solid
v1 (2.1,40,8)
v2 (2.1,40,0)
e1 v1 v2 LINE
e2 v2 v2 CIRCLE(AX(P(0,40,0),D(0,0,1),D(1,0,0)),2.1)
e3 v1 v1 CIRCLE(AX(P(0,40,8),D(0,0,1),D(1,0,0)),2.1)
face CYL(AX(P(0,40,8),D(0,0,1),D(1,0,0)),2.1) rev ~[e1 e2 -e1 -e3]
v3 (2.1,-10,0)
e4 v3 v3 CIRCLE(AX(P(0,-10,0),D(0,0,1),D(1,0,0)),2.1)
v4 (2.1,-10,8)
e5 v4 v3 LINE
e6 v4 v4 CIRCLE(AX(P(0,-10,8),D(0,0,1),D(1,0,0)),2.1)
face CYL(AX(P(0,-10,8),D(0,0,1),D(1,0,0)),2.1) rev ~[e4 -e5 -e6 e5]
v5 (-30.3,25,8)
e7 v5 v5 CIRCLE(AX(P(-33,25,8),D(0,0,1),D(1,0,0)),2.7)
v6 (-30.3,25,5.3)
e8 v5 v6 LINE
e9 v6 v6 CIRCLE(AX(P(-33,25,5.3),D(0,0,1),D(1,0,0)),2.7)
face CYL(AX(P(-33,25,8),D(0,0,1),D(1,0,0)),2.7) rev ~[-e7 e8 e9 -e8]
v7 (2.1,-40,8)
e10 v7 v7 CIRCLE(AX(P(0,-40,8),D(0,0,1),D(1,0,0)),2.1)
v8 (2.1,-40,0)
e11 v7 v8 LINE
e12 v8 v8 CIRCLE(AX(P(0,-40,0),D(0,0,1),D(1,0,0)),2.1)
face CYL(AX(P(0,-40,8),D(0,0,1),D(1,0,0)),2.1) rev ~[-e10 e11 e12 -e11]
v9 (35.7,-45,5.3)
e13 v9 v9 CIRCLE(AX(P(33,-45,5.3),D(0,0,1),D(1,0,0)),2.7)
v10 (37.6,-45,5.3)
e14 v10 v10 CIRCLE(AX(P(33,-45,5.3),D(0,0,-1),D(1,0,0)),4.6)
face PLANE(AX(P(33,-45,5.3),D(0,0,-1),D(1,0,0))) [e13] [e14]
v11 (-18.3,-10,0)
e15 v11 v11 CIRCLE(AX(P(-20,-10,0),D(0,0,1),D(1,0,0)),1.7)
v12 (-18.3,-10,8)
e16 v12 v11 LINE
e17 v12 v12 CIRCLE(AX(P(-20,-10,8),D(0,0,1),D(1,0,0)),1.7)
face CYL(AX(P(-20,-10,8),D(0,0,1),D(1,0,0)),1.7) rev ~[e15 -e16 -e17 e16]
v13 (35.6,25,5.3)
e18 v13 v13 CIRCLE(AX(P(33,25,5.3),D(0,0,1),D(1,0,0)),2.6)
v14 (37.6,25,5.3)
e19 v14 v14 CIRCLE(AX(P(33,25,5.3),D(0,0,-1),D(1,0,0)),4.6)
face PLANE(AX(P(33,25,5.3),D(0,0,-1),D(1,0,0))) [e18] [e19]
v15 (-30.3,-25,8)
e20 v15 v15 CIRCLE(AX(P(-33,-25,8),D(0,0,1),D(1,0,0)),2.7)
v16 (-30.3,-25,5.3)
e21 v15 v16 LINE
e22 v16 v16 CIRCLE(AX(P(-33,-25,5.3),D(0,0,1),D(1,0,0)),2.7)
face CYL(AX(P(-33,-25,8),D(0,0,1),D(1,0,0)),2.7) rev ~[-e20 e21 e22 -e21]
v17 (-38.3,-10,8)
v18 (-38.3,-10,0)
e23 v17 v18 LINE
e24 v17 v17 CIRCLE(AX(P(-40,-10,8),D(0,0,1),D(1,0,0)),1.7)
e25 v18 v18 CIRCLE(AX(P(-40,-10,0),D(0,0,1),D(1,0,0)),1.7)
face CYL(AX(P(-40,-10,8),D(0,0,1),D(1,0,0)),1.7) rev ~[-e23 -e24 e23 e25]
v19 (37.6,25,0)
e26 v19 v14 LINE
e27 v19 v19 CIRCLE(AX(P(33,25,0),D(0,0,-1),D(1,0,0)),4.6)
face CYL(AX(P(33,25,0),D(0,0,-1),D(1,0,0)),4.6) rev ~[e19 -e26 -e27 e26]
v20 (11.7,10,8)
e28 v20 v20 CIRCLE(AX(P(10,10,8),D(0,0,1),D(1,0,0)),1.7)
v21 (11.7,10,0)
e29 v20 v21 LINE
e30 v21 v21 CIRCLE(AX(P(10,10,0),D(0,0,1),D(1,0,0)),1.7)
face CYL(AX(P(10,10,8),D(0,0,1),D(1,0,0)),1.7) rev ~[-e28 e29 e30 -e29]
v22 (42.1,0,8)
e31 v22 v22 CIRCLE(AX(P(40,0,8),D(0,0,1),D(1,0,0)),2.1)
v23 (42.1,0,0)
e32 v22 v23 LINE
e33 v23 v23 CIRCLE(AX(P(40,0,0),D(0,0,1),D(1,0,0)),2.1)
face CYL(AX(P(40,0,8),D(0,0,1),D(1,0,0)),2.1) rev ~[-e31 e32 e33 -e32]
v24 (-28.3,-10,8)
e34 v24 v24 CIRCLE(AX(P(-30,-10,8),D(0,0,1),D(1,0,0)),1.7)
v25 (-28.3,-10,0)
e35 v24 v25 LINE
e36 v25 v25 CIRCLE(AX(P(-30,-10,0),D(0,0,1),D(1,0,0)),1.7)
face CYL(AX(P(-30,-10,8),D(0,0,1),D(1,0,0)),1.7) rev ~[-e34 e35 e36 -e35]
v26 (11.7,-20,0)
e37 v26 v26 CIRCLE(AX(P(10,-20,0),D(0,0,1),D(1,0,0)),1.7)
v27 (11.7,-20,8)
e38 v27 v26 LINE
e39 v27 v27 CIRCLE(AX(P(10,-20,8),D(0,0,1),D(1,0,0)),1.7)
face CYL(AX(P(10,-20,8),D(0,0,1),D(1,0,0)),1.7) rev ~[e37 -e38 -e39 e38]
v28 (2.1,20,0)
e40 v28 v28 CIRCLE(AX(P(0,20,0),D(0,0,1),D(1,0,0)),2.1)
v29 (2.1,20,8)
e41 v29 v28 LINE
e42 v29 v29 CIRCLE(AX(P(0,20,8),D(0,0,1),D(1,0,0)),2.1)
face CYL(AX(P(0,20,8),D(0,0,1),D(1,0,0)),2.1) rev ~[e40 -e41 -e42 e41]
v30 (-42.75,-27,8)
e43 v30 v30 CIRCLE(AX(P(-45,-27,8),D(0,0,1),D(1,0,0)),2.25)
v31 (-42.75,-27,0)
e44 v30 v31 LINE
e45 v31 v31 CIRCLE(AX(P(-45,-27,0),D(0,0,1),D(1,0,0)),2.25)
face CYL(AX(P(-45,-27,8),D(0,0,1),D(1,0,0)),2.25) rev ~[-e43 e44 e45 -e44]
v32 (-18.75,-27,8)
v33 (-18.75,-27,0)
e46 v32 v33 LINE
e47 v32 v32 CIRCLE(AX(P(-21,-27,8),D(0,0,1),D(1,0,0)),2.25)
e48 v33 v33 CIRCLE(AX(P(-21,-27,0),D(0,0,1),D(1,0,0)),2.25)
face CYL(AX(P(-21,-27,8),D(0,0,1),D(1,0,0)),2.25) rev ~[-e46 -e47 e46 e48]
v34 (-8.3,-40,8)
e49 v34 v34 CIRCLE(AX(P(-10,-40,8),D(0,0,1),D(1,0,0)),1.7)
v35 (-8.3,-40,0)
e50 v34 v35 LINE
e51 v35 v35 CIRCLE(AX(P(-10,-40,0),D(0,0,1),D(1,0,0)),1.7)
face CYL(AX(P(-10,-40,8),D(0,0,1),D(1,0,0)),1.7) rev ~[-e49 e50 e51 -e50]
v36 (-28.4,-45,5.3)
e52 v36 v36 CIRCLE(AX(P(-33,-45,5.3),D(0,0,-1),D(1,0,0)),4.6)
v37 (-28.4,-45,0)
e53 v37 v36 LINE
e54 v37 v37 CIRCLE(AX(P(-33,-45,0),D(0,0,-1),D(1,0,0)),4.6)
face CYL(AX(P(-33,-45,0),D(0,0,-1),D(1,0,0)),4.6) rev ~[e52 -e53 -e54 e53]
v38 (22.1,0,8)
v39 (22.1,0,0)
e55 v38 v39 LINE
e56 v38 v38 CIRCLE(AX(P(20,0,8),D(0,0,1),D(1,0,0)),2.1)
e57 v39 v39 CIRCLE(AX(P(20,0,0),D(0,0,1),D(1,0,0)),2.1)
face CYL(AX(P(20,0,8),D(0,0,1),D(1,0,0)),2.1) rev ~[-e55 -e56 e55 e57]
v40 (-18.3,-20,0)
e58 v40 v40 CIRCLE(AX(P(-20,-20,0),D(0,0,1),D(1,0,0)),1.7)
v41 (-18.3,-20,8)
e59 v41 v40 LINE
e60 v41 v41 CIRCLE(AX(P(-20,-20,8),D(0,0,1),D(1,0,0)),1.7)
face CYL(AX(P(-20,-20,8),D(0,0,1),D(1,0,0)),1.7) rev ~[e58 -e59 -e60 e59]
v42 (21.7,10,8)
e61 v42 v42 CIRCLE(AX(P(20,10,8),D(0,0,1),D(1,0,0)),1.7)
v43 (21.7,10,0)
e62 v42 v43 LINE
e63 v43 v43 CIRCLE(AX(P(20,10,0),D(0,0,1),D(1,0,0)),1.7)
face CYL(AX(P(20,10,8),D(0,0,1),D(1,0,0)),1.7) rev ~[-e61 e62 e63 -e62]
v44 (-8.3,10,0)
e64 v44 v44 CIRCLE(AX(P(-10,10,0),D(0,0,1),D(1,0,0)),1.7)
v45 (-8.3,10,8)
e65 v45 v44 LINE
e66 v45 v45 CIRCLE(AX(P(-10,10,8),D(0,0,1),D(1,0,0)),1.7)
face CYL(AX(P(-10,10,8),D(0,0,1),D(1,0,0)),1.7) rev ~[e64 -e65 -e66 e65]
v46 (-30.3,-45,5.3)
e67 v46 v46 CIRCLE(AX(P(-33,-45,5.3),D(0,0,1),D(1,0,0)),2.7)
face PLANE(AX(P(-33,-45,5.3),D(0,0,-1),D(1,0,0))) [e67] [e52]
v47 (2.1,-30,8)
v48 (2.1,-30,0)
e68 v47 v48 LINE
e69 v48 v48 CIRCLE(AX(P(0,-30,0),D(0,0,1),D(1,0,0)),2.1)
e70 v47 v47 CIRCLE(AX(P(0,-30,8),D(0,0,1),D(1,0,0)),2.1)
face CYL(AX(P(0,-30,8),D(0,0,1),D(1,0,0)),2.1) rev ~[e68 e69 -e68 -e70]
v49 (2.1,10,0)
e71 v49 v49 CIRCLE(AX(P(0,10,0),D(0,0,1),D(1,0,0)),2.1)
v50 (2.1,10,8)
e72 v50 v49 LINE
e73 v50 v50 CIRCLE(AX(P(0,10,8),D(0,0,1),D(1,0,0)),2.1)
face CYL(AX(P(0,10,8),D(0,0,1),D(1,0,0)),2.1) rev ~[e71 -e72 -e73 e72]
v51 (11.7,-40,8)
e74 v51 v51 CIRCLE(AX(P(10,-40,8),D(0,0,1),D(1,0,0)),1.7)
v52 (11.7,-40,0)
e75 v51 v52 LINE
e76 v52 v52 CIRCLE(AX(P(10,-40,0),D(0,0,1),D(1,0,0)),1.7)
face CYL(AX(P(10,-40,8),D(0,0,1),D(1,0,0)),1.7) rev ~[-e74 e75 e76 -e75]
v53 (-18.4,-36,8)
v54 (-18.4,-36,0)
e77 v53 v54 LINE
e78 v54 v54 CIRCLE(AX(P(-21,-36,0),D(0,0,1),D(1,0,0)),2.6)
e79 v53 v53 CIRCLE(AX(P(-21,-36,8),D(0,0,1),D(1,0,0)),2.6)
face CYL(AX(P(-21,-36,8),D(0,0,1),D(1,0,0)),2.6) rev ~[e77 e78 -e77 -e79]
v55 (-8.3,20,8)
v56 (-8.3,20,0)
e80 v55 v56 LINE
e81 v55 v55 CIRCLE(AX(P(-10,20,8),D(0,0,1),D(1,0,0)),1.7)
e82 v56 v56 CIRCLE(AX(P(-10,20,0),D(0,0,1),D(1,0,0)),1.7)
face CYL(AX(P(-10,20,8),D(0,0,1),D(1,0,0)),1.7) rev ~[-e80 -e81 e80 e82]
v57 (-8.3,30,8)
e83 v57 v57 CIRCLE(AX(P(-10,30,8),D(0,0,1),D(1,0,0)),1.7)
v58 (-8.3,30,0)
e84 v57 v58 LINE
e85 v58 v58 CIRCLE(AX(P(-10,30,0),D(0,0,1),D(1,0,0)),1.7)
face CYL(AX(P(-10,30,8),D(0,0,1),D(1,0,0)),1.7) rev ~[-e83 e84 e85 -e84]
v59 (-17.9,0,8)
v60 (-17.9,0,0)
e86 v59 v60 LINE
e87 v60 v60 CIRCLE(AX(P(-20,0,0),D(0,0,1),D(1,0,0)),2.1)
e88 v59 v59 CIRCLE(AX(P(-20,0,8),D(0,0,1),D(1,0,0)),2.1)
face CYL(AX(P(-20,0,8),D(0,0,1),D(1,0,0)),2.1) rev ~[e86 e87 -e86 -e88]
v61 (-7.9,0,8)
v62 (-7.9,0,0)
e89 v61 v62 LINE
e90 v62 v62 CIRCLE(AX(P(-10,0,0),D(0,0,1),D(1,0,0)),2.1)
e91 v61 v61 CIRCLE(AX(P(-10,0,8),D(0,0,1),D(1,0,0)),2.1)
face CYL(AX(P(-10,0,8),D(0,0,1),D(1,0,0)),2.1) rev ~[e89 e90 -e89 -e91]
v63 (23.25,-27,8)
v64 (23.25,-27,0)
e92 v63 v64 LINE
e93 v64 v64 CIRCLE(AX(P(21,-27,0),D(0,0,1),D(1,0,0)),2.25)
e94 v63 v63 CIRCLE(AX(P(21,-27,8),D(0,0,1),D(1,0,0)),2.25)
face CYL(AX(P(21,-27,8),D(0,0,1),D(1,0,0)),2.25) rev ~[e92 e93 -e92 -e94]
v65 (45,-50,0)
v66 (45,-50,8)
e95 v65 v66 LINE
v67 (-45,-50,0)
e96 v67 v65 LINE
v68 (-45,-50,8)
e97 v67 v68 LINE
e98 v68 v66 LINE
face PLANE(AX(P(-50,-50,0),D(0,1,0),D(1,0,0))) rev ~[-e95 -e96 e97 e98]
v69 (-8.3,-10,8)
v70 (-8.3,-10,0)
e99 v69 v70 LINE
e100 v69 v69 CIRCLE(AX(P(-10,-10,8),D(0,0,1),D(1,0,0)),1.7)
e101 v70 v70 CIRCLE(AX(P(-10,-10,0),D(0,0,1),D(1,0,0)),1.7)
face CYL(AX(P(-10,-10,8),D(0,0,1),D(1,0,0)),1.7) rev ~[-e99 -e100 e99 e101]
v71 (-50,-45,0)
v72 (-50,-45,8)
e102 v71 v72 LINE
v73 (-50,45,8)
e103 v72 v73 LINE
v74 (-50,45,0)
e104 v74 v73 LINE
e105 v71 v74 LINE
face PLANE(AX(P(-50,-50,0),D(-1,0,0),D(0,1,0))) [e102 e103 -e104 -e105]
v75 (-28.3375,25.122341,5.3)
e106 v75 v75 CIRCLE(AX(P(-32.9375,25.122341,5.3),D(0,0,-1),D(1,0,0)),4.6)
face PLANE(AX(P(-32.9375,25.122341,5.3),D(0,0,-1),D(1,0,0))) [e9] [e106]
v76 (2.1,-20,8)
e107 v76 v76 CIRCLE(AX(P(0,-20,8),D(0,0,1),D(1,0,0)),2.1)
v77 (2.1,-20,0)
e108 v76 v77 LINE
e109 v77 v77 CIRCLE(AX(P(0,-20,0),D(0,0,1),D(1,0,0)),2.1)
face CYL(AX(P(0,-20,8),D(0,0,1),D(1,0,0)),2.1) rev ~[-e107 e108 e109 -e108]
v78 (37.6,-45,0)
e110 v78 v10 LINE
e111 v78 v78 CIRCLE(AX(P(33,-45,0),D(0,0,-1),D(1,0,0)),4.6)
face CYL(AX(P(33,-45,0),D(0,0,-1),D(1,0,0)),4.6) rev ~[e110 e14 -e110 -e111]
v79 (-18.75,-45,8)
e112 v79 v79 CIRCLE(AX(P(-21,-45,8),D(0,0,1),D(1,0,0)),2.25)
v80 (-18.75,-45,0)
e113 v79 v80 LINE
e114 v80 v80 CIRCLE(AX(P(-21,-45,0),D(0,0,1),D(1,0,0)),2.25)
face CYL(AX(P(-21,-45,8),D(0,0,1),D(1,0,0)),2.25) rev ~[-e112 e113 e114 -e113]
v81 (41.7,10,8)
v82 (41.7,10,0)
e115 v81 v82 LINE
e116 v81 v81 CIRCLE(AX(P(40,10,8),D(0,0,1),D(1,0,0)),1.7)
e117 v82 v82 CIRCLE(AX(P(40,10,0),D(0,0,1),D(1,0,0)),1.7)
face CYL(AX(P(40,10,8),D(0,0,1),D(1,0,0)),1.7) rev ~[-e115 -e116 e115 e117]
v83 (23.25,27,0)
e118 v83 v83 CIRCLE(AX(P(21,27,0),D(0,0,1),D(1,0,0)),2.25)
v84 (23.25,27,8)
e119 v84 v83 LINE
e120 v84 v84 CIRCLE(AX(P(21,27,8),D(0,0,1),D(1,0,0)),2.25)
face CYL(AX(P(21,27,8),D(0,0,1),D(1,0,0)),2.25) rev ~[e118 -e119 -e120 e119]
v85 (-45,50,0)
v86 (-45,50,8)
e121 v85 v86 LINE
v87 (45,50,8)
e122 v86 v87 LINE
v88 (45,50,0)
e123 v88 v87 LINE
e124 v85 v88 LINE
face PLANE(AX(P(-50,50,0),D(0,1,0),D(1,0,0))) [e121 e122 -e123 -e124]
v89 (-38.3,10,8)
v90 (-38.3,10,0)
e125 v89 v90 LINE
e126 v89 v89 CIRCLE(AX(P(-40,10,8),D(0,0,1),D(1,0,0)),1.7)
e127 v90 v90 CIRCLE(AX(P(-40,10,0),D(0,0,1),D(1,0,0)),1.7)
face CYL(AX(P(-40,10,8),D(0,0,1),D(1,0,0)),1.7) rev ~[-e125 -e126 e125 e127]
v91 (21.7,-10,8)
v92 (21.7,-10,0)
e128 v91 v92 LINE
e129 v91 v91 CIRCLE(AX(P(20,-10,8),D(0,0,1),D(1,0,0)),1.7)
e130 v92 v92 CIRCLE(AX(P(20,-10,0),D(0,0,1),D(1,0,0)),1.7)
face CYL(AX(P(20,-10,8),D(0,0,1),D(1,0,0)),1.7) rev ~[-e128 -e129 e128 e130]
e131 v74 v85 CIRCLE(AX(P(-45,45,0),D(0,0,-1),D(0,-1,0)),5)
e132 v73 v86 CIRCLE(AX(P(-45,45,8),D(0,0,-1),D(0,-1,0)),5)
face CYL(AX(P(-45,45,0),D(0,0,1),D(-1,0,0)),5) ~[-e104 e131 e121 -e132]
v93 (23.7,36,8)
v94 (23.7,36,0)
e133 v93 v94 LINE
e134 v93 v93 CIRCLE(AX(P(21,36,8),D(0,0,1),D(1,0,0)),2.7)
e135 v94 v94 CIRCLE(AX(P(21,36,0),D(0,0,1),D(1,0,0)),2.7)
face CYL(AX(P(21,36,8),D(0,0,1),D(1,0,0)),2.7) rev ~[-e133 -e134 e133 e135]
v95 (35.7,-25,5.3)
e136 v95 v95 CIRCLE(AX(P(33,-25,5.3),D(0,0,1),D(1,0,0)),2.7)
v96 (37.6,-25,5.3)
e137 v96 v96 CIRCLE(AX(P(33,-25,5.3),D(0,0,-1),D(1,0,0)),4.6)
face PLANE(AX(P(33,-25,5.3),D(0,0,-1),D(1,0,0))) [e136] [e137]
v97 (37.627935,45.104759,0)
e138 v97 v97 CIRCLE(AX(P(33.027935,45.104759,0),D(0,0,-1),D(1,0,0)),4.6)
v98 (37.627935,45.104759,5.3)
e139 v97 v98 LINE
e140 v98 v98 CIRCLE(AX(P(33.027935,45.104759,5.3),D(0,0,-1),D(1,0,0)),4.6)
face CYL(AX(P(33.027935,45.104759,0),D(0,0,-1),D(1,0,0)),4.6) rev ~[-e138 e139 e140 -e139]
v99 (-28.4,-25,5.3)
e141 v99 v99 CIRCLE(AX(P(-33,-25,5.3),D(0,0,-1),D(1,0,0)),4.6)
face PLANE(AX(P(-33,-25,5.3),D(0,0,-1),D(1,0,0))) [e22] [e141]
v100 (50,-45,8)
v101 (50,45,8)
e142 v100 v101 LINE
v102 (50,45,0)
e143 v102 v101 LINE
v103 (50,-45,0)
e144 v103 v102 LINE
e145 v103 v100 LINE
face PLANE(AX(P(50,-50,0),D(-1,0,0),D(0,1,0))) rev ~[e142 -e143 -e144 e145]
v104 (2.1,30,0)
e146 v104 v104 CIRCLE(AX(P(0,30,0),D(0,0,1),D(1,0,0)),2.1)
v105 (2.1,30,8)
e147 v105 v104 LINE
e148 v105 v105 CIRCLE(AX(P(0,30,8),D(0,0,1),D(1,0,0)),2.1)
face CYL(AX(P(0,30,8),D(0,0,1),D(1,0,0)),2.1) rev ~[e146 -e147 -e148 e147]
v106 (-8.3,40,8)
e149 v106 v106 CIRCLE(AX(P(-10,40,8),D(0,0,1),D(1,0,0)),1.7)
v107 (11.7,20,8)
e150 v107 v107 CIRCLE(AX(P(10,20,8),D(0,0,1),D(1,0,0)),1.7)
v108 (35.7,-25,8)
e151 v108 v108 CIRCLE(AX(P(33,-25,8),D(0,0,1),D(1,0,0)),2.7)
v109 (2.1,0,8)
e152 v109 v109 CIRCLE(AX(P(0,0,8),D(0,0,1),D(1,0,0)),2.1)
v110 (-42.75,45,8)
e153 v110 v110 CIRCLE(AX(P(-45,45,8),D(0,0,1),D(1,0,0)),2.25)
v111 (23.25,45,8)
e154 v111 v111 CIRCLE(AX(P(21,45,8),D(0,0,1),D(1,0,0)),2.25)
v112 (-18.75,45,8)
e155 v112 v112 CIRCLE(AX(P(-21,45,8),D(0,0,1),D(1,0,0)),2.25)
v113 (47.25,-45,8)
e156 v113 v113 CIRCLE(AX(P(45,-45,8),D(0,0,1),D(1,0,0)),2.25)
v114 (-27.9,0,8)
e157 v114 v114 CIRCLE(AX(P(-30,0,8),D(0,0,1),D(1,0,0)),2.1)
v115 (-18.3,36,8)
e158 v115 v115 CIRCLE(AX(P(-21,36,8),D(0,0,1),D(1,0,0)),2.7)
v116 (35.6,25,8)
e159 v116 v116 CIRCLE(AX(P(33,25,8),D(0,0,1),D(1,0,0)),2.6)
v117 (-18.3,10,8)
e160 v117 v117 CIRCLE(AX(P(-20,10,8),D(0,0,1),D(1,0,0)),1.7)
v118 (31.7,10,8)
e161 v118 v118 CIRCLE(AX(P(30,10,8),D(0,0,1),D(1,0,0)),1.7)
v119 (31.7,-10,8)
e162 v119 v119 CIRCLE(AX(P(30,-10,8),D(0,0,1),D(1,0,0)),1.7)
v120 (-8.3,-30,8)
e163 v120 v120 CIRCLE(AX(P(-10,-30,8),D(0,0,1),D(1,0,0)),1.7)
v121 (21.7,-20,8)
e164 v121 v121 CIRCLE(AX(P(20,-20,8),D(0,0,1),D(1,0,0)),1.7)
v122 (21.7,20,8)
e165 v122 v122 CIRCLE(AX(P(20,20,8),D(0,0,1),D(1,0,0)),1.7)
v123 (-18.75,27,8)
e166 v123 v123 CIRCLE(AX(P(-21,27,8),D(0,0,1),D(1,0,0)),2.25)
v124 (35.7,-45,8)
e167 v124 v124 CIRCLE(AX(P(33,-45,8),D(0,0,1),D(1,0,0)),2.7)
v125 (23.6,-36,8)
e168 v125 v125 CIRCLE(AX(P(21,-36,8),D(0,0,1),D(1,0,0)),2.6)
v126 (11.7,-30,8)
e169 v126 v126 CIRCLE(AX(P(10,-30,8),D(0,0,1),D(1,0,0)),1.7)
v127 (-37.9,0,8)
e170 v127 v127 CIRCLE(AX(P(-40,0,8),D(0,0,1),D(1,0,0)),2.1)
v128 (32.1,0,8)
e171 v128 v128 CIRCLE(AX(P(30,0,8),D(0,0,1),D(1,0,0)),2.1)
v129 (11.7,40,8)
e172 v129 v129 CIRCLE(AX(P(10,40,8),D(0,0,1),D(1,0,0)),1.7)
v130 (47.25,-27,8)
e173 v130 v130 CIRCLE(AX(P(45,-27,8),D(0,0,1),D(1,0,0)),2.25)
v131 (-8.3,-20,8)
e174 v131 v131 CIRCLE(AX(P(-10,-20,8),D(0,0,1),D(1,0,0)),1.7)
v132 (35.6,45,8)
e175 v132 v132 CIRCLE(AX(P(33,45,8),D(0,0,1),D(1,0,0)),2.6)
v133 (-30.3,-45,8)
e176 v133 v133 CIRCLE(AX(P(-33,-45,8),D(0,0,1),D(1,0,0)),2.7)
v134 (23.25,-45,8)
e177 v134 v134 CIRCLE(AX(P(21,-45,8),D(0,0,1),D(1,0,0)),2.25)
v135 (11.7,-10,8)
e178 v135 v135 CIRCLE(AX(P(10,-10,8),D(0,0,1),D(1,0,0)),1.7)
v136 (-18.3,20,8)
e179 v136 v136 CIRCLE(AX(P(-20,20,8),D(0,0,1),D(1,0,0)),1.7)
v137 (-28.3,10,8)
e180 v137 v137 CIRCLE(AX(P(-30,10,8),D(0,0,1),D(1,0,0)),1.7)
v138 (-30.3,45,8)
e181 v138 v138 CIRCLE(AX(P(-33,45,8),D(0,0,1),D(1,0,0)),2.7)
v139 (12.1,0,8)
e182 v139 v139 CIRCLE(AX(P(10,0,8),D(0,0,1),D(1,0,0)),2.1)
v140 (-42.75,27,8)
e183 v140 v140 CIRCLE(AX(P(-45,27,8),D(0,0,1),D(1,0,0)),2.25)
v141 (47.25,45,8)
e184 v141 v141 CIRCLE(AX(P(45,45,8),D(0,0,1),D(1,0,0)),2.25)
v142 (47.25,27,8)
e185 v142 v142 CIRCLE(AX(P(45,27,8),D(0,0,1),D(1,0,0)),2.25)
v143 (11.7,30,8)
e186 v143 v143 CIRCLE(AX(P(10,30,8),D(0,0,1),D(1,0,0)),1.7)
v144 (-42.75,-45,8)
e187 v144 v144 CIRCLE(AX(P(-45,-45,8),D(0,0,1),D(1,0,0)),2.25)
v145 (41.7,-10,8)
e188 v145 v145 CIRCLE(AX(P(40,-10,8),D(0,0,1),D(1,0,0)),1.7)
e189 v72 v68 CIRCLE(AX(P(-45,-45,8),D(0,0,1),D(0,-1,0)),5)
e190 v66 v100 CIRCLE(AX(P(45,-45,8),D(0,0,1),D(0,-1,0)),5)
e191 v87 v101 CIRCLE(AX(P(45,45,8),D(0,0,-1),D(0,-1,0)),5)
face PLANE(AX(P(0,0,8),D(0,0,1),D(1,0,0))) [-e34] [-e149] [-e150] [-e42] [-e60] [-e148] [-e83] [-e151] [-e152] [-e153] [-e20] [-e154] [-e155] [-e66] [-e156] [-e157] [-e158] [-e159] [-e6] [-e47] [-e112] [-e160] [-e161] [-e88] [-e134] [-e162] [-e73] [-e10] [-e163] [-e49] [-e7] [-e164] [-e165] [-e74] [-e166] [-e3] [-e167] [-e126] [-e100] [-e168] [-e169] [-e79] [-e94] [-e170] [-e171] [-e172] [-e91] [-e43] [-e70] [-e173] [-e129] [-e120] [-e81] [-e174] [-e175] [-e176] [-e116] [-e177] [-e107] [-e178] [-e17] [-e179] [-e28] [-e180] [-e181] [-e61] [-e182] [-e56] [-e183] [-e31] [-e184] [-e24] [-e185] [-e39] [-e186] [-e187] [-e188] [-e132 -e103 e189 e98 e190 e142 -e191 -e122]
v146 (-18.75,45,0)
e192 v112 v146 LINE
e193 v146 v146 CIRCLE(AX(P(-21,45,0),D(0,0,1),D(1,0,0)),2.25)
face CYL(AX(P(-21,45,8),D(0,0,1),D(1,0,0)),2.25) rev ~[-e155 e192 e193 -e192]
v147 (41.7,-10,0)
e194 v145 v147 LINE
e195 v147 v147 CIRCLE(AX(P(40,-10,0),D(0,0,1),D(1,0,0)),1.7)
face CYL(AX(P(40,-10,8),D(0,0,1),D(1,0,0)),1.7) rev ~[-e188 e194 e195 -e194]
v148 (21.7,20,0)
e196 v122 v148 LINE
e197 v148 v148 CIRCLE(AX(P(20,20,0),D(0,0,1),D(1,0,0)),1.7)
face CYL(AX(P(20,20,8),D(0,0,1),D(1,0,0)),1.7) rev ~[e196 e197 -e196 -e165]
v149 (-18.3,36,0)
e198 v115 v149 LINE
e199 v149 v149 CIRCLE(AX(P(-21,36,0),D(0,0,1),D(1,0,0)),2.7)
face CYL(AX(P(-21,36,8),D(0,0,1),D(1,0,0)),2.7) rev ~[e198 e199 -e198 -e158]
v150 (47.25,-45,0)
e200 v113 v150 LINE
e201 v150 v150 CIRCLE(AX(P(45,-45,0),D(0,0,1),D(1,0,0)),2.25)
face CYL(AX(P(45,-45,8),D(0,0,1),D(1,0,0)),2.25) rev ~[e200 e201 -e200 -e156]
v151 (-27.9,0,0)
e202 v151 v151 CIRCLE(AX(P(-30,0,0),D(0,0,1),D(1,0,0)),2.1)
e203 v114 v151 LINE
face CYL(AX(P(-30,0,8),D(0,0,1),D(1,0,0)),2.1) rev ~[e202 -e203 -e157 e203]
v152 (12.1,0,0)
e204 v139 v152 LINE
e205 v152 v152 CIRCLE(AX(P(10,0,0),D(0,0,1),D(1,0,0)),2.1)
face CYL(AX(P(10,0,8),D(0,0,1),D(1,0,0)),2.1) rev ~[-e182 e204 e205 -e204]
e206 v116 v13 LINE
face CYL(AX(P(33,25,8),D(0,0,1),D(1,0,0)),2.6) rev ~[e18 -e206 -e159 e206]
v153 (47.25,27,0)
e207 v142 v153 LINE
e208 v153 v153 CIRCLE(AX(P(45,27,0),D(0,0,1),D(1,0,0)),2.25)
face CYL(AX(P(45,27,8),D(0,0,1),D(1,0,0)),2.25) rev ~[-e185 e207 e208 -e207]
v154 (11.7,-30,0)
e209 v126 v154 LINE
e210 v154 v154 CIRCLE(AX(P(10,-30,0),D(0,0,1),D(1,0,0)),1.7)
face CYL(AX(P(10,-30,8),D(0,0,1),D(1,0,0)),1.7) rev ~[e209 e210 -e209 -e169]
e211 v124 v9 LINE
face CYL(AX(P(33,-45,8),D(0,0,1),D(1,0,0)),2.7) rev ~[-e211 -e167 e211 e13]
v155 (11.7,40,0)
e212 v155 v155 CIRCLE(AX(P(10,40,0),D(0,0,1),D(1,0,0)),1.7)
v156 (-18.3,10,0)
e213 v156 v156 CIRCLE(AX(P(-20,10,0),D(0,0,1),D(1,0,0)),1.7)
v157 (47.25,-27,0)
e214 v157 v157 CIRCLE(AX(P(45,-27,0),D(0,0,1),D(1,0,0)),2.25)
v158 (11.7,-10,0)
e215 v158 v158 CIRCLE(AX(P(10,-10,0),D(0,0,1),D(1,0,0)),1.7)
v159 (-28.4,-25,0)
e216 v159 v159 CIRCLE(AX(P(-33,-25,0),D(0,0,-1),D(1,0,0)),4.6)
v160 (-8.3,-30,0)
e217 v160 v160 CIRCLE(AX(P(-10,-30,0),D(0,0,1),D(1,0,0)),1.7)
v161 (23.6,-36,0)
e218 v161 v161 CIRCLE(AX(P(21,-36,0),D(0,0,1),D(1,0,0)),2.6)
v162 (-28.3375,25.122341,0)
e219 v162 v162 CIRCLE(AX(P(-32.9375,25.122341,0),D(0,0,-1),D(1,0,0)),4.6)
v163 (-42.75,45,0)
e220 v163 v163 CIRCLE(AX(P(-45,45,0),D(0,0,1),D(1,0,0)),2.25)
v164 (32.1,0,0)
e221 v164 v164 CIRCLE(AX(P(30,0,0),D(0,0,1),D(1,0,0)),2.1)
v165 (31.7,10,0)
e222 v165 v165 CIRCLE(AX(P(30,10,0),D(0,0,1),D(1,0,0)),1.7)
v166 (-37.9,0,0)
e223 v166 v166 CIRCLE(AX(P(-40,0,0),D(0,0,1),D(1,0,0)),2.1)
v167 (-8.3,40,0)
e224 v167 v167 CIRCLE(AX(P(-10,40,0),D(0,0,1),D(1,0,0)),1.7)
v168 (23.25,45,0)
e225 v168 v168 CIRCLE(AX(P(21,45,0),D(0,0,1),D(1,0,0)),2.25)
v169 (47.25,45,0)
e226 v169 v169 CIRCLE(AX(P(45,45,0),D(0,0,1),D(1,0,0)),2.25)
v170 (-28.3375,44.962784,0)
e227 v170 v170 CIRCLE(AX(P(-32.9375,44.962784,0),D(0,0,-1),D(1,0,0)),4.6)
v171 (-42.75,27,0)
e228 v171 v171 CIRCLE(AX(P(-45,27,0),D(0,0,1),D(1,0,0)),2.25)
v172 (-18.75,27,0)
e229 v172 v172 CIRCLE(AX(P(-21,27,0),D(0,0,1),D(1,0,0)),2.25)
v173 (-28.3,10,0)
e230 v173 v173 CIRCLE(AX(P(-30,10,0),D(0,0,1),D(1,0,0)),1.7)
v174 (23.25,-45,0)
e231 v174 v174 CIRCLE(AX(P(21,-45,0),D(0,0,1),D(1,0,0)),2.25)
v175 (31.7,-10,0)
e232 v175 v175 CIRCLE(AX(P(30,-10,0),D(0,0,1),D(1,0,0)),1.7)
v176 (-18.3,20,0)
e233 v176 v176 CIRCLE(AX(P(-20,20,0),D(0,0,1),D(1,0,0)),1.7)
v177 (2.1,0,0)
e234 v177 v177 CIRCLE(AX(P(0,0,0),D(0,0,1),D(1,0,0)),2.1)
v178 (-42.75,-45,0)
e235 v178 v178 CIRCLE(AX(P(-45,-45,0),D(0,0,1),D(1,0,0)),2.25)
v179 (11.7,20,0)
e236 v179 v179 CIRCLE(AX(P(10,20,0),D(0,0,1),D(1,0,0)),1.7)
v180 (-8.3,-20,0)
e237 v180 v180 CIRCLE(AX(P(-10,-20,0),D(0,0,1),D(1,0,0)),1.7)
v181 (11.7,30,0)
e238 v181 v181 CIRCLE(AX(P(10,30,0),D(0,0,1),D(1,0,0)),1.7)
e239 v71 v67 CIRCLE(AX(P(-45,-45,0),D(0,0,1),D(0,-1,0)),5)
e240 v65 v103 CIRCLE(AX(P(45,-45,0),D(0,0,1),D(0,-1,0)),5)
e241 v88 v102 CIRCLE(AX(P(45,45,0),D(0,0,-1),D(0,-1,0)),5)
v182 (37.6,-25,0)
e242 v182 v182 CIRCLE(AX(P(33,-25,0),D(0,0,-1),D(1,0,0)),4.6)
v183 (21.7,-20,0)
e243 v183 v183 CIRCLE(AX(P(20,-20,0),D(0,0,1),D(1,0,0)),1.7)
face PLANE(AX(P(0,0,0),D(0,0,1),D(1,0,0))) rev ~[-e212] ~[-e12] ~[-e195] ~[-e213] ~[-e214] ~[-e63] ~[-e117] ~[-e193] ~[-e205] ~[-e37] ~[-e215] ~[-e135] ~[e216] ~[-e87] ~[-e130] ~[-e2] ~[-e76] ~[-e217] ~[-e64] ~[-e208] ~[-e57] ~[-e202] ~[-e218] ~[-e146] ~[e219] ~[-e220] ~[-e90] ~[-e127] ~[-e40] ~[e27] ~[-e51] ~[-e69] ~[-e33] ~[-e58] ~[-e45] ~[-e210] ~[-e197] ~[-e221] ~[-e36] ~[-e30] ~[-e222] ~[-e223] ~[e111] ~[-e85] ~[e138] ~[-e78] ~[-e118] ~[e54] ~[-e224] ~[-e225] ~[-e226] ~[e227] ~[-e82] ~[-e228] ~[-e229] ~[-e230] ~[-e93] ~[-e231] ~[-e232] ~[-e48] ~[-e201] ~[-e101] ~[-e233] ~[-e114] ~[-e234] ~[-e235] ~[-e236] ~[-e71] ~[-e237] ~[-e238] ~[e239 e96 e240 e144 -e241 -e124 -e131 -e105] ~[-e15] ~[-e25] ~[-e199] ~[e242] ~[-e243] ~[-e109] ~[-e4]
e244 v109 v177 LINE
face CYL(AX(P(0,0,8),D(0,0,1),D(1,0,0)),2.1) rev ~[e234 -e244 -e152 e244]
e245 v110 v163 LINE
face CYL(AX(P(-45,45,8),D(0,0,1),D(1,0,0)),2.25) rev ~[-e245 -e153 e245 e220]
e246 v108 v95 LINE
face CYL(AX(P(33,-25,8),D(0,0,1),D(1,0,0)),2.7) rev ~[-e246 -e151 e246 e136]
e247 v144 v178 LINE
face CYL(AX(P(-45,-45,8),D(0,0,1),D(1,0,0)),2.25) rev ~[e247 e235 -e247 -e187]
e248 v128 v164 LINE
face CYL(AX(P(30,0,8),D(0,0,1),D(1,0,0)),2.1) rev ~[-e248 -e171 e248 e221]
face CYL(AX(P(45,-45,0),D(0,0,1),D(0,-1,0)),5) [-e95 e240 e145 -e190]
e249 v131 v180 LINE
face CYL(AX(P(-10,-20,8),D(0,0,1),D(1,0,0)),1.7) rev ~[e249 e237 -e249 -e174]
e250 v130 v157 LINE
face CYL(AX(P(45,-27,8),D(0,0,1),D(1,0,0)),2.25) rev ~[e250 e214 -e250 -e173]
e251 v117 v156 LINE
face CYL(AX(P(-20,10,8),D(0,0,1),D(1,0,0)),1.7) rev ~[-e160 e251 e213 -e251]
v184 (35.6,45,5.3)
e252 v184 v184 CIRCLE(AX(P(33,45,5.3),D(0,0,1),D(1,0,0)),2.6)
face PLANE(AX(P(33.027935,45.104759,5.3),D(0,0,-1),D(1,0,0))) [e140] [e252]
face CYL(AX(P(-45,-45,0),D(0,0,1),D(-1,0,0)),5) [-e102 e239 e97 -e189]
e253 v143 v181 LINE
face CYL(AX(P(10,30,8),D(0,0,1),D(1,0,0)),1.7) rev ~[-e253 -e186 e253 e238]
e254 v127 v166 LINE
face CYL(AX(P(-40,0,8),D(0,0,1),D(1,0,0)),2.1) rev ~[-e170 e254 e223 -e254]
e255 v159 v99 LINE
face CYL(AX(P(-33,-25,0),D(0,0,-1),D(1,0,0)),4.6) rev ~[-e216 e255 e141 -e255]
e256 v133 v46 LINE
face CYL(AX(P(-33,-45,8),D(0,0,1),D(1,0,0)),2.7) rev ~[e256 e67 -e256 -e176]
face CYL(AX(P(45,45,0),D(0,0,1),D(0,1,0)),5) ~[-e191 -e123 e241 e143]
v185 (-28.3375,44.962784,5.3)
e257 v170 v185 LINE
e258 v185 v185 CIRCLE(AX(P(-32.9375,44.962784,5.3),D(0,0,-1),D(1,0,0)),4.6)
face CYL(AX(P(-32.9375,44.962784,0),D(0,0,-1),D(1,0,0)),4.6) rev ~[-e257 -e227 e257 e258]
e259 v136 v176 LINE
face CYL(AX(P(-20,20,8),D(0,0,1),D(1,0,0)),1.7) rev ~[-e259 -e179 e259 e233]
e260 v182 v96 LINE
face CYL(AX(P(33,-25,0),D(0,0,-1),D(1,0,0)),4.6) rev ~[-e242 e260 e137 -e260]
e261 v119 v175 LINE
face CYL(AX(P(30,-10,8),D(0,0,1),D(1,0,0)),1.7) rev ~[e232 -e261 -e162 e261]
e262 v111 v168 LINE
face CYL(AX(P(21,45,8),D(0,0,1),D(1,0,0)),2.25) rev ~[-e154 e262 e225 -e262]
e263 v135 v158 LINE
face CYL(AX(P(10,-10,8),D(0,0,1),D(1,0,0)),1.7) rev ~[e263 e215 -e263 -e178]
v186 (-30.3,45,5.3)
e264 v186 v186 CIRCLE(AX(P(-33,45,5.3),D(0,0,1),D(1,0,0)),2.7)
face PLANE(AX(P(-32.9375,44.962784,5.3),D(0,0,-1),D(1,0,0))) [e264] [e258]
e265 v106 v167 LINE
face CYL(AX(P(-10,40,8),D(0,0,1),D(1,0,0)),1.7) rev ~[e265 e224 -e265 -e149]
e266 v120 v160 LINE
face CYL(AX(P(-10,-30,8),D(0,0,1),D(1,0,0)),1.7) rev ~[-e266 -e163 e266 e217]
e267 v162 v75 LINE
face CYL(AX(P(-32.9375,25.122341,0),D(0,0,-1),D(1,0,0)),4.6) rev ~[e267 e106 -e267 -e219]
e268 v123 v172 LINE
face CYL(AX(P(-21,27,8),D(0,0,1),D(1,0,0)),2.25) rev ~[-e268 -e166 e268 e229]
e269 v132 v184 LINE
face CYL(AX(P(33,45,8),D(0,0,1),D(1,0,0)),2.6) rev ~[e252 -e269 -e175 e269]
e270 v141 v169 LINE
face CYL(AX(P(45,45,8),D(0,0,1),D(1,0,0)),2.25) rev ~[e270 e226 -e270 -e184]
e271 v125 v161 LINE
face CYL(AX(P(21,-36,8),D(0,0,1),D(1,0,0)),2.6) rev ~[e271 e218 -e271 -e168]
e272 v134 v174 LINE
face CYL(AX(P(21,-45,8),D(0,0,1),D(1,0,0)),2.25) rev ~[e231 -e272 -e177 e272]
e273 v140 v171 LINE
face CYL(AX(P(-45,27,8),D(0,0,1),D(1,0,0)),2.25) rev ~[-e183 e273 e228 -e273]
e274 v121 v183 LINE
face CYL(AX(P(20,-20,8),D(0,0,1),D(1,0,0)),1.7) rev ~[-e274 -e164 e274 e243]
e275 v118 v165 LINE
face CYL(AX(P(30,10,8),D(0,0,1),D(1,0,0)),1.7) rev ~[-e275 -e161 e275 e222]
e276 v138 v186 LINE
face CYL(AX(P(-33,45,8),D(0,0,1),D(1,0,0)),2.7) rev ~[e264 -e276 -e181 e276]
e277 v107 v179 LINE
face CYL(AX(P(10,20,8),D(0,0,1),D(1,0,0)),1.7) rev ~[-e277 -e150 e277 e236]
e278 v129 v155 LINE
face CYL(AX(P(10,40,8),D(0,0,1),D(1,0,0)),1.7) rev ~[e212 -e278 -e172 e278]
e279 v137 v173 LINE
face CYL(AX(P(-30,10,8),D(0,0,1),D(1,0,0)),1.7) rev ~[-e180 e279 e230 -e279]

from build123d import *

# Parameters (mm, degrees)
SKETCH_W        = 100
SKETCH_H        = 100
PAD_DEPTH       = 8
SKETCH001_R     = 2.25
SKETCH001_R_2   = 2.7
SKETCH001_R_3   = 2.6
SKETCH001_R_4   = 2.1
POCKET_DEPTH    = 8.001
SKETCH002_R     = 1.7
POCKET001_DEPTH = 8.001
SKETCH003_R     = 4.6
POCKET002_DEPTH = 5.3
FILLET_R        = 5


with BuildPart() as part:
    # Sketch → Pad (new body)
    with BuildSketch(Plane.XY):
        Rectangle(SKETCH_W, SKETCH_H)
    extrude(amount=PAD_DEPTH)

    # Sketch001 → Pocket (cut, through all)
    with BuildSketch(Plane.XY.offset(8)):
        with Locations((-21, 45)):
            Circle(SKETCH001_R)
        with Locations((-45, 27)):
            Circle(SKETCH001_R)
        with Locations((-45, 45)):
            Circle(SKETCH001_R)
        with Locations((-21, 27)):
            Circle(SKETCH001_R)
        with Locations((21, 27)):
            Circle(SKETCH001_R)
        with Locations((21, 45)):
            Circle(SKETCH001_R)
        with Locations((45, 27)):
            Circle(SKETCH001_R)
        with Locations((45, 45)):
            Circle(SKETCH001_R)
        with Locations((21, -27)):
            Circle(SKETCH001_R)
        with Locations((45, -27)):
            Circle(SKETCH001_R)
        with Locations((45, -45)):
            Circle(SKETCH001_R)
        with Locations((21, -45)):
            Circle(SKETCH001_R)
        with Locations((-21, -27)):
            Circle(SKETCH001_R)
        with Locations((-45, -27)):
            Circle(SKETCH001_R)
        with Locations((-21, -45)):
            Circle(SKETCH001_R)
        with Locations((-45, -45)):
            Circle(SKETCH001_R)
        with Locations((-33, 45)):
            Circle(SKETCH001_R_2)
        with Locations((-33, 25)):
            Circle(SKETCH001_R_2)
        with Locations((33, 45)):
            Circle(SKETCH001_R_3)
        with Locations((33, 25)):
            Circle(SKETCH001_R_3)
        with Locations((-21, -36)):
            Circle(SKETCH001_R_3)
        with Locations((21, -36)):
            Circle(SKETCH001_R_3)
        with Locations((-21, 36)):
            Circle(SKETCH001_R_2)
        with Locations((21, 36)):
            Circle(SKETCH001_R_2)
        with Locations((33, -45)):
            Circle(SKETCH001_R_2)
        with Locations((33, -25)):
            Circle(SKETCH001_R_2)
        with Locations((-33, -25)):
            Circle(SKETCH001_R_2)
        with Locations((-33, -45)):
            Circle(SKETCH001_R_2)
        with Locations((0, 10)):
            Circle(SKETCH001_R_4)
        with Locations((0, 20)):
            Circle(SKETCH001_R_4)
        with Locations((0, 30)):
            Circle(SKETCH001_R_4)
        with Locations((0, 40)):
            Circle(SKETCH001_R_4)
        with Locations((10, 0)):
            Circle(SKETCH001_R_4)
        with Locations((20, 0)):
            Circle(SKETCH001_R_4)
        with Locations((30, 0)):
            Circle(SKETCH001_R_4)
        with Locations((40, 0)):
            Circle(SKETCH001_R_4)
        with Locations((-10, 0)):
            Circle(SKETCH001_R_4)
        with Locations((-20, 0)):
            Circle(SKETCH001_R_4)
        with Locations((-30, 0)):
            Circle(SKETCH001_R_4)
        with Locations((-40, 0)):
            Circle(SKETCH001_R_4)
        with Locations((0, -10)):
            Circle(SKETCH001_R_4)
        with Locations((0, -20)):
            Circle(SKETCH001_R_4)
        with Locations((0, -30)):
            Circle(SKETCH001_R_4)
        with Locations((0, -40)):
            Circle(SKETCH001_R_4)
        Circle(SKETCH001_R_4)
    extrude(amount=-POCKET_DEPTH, mode=Mode.SUBTRACT)

    # Sketch002 → Pocket001 (cut, through all)
    with BuildSketch(Plane.XY.offset(8)):
        with Locations((-10, 10)):
            Circle(SKETCH002_R)
        with Locations((-20, 10)):
            Circle(SKETCH002_R)
        with Locations((-30, 10)):
            Circle(SKETCH002_R)
        with Locations((-40, 10)):
            Circle(SKETCH002_R)
        with Locations((-10, -10)):
            Circle(SKETCH002_R)
        with Locations((-20, -10)):
            Circle(SKETCH002_R)
        with Locations((-30, -10)):
            Circle(SKETCH002_R)
        with Locations((-40, -10)):
            Circle(SKETCH002_R)
        with Locations((10, 10)):
            Circle(SKETCH002_R)
        with Locations((10, -10)):
            Circle(SKETCH002_R)
        with Locations((20, -10)):
            Circle(SKETCH002_R)
        with Locations((20, 10)):
            Circle(SKETCH002_R)
        with Locations((30, 10)):
            Circle(SKETCH002_R)
        with Locations((40, 10)):
            Circle(SKETCH002_R)
        with Locations((30, -10)):
            Circle(SKETCH002_R)
        with Locations((40, -10)):
            Circle(SKETCH002_R)
        with Locations((-10, 20)):
            Circle(SKETCH002_R)
        with Locations((-20, 20)):
            Circle(SKETCH002_R)
        with Locations((10, 20)):
            Circle(SKETCH002_R)
        with Locations((20, 20)):
            Circle(SKETCH002_R)
        with Locations((20, -20)):
            Circle(SKETCH002_R)
        with Locations((10, -20)):
            Circle(SKETCH002_R)
        with Locations((-10, -20)):
            Circle(SKETCH002_R)
        with Locations((-20, -20)):
            Circle(SKETCH002_R)
        with Locations((-10, 30)):
            Circle(SKETCH002_R)
        with Locations((-10, 40)):
            Circle(SKETCH002_R)
        with Locations((10, 40)):
            Circle(SKETCH002_R)
        with Locations((10, 30)):
            Circle(SKETCH002_R)
        with Locations((10, -30)):
            Circle(SKETCH002_R)
        with Locations((-10, -30)):
            Circle(SKETCH002_R)
        with Locations((-10, -40)):
            Circle(SKETCH002_R)
        with Locations((10, -40)):
            Circle(SKETCH002_R)
    extrude(amount=-POCKET001_DEPTH, mode=Mode.SUBTRACT)

    # Sketch003 → Pocket002 (cut)
    with BuildSketch(Plane(origin=(0, 0, 0), x_dir=(1, 0, 0), z_dir=(0, 0, -1))):
        with Locations((-33, 45)):
            Circle(SKETCH003_R)
        with Locations((33, -25)):
            Circle(SKETCH003_R)
        with Locations((33, 25)):
            Circle(SKETCH003_R)
        with Locations((33, 45)):
            Circle(SKETCH003_R)
        with Locations((-33, 25)):
            Circle(SKETCH003_R)
        with Locations((33.027935, -45.104759)):
            Circle(SKETCH003_R)
        with Locations((-32.9375, -44.962784)):
            Circle(SKETCH003_R)
        with Locations((-32.9375, -25.122341)):
            Circle(SKETCH003_R)
    extrude(amount=-POCKET002_DEPTH, mode=Mode.SUBTRACT)

    # Fillet
    fillet_edges = [part.edges().sort_by_distance(p)[0] for p in [
        (-50, -50, 4),
        (50, -50, 4),
        (-50, 50, 4),
        (50, 50, 4),
    ]]
    fillet(fillet_edges, radius=FILLET_R)


solid = part.part
